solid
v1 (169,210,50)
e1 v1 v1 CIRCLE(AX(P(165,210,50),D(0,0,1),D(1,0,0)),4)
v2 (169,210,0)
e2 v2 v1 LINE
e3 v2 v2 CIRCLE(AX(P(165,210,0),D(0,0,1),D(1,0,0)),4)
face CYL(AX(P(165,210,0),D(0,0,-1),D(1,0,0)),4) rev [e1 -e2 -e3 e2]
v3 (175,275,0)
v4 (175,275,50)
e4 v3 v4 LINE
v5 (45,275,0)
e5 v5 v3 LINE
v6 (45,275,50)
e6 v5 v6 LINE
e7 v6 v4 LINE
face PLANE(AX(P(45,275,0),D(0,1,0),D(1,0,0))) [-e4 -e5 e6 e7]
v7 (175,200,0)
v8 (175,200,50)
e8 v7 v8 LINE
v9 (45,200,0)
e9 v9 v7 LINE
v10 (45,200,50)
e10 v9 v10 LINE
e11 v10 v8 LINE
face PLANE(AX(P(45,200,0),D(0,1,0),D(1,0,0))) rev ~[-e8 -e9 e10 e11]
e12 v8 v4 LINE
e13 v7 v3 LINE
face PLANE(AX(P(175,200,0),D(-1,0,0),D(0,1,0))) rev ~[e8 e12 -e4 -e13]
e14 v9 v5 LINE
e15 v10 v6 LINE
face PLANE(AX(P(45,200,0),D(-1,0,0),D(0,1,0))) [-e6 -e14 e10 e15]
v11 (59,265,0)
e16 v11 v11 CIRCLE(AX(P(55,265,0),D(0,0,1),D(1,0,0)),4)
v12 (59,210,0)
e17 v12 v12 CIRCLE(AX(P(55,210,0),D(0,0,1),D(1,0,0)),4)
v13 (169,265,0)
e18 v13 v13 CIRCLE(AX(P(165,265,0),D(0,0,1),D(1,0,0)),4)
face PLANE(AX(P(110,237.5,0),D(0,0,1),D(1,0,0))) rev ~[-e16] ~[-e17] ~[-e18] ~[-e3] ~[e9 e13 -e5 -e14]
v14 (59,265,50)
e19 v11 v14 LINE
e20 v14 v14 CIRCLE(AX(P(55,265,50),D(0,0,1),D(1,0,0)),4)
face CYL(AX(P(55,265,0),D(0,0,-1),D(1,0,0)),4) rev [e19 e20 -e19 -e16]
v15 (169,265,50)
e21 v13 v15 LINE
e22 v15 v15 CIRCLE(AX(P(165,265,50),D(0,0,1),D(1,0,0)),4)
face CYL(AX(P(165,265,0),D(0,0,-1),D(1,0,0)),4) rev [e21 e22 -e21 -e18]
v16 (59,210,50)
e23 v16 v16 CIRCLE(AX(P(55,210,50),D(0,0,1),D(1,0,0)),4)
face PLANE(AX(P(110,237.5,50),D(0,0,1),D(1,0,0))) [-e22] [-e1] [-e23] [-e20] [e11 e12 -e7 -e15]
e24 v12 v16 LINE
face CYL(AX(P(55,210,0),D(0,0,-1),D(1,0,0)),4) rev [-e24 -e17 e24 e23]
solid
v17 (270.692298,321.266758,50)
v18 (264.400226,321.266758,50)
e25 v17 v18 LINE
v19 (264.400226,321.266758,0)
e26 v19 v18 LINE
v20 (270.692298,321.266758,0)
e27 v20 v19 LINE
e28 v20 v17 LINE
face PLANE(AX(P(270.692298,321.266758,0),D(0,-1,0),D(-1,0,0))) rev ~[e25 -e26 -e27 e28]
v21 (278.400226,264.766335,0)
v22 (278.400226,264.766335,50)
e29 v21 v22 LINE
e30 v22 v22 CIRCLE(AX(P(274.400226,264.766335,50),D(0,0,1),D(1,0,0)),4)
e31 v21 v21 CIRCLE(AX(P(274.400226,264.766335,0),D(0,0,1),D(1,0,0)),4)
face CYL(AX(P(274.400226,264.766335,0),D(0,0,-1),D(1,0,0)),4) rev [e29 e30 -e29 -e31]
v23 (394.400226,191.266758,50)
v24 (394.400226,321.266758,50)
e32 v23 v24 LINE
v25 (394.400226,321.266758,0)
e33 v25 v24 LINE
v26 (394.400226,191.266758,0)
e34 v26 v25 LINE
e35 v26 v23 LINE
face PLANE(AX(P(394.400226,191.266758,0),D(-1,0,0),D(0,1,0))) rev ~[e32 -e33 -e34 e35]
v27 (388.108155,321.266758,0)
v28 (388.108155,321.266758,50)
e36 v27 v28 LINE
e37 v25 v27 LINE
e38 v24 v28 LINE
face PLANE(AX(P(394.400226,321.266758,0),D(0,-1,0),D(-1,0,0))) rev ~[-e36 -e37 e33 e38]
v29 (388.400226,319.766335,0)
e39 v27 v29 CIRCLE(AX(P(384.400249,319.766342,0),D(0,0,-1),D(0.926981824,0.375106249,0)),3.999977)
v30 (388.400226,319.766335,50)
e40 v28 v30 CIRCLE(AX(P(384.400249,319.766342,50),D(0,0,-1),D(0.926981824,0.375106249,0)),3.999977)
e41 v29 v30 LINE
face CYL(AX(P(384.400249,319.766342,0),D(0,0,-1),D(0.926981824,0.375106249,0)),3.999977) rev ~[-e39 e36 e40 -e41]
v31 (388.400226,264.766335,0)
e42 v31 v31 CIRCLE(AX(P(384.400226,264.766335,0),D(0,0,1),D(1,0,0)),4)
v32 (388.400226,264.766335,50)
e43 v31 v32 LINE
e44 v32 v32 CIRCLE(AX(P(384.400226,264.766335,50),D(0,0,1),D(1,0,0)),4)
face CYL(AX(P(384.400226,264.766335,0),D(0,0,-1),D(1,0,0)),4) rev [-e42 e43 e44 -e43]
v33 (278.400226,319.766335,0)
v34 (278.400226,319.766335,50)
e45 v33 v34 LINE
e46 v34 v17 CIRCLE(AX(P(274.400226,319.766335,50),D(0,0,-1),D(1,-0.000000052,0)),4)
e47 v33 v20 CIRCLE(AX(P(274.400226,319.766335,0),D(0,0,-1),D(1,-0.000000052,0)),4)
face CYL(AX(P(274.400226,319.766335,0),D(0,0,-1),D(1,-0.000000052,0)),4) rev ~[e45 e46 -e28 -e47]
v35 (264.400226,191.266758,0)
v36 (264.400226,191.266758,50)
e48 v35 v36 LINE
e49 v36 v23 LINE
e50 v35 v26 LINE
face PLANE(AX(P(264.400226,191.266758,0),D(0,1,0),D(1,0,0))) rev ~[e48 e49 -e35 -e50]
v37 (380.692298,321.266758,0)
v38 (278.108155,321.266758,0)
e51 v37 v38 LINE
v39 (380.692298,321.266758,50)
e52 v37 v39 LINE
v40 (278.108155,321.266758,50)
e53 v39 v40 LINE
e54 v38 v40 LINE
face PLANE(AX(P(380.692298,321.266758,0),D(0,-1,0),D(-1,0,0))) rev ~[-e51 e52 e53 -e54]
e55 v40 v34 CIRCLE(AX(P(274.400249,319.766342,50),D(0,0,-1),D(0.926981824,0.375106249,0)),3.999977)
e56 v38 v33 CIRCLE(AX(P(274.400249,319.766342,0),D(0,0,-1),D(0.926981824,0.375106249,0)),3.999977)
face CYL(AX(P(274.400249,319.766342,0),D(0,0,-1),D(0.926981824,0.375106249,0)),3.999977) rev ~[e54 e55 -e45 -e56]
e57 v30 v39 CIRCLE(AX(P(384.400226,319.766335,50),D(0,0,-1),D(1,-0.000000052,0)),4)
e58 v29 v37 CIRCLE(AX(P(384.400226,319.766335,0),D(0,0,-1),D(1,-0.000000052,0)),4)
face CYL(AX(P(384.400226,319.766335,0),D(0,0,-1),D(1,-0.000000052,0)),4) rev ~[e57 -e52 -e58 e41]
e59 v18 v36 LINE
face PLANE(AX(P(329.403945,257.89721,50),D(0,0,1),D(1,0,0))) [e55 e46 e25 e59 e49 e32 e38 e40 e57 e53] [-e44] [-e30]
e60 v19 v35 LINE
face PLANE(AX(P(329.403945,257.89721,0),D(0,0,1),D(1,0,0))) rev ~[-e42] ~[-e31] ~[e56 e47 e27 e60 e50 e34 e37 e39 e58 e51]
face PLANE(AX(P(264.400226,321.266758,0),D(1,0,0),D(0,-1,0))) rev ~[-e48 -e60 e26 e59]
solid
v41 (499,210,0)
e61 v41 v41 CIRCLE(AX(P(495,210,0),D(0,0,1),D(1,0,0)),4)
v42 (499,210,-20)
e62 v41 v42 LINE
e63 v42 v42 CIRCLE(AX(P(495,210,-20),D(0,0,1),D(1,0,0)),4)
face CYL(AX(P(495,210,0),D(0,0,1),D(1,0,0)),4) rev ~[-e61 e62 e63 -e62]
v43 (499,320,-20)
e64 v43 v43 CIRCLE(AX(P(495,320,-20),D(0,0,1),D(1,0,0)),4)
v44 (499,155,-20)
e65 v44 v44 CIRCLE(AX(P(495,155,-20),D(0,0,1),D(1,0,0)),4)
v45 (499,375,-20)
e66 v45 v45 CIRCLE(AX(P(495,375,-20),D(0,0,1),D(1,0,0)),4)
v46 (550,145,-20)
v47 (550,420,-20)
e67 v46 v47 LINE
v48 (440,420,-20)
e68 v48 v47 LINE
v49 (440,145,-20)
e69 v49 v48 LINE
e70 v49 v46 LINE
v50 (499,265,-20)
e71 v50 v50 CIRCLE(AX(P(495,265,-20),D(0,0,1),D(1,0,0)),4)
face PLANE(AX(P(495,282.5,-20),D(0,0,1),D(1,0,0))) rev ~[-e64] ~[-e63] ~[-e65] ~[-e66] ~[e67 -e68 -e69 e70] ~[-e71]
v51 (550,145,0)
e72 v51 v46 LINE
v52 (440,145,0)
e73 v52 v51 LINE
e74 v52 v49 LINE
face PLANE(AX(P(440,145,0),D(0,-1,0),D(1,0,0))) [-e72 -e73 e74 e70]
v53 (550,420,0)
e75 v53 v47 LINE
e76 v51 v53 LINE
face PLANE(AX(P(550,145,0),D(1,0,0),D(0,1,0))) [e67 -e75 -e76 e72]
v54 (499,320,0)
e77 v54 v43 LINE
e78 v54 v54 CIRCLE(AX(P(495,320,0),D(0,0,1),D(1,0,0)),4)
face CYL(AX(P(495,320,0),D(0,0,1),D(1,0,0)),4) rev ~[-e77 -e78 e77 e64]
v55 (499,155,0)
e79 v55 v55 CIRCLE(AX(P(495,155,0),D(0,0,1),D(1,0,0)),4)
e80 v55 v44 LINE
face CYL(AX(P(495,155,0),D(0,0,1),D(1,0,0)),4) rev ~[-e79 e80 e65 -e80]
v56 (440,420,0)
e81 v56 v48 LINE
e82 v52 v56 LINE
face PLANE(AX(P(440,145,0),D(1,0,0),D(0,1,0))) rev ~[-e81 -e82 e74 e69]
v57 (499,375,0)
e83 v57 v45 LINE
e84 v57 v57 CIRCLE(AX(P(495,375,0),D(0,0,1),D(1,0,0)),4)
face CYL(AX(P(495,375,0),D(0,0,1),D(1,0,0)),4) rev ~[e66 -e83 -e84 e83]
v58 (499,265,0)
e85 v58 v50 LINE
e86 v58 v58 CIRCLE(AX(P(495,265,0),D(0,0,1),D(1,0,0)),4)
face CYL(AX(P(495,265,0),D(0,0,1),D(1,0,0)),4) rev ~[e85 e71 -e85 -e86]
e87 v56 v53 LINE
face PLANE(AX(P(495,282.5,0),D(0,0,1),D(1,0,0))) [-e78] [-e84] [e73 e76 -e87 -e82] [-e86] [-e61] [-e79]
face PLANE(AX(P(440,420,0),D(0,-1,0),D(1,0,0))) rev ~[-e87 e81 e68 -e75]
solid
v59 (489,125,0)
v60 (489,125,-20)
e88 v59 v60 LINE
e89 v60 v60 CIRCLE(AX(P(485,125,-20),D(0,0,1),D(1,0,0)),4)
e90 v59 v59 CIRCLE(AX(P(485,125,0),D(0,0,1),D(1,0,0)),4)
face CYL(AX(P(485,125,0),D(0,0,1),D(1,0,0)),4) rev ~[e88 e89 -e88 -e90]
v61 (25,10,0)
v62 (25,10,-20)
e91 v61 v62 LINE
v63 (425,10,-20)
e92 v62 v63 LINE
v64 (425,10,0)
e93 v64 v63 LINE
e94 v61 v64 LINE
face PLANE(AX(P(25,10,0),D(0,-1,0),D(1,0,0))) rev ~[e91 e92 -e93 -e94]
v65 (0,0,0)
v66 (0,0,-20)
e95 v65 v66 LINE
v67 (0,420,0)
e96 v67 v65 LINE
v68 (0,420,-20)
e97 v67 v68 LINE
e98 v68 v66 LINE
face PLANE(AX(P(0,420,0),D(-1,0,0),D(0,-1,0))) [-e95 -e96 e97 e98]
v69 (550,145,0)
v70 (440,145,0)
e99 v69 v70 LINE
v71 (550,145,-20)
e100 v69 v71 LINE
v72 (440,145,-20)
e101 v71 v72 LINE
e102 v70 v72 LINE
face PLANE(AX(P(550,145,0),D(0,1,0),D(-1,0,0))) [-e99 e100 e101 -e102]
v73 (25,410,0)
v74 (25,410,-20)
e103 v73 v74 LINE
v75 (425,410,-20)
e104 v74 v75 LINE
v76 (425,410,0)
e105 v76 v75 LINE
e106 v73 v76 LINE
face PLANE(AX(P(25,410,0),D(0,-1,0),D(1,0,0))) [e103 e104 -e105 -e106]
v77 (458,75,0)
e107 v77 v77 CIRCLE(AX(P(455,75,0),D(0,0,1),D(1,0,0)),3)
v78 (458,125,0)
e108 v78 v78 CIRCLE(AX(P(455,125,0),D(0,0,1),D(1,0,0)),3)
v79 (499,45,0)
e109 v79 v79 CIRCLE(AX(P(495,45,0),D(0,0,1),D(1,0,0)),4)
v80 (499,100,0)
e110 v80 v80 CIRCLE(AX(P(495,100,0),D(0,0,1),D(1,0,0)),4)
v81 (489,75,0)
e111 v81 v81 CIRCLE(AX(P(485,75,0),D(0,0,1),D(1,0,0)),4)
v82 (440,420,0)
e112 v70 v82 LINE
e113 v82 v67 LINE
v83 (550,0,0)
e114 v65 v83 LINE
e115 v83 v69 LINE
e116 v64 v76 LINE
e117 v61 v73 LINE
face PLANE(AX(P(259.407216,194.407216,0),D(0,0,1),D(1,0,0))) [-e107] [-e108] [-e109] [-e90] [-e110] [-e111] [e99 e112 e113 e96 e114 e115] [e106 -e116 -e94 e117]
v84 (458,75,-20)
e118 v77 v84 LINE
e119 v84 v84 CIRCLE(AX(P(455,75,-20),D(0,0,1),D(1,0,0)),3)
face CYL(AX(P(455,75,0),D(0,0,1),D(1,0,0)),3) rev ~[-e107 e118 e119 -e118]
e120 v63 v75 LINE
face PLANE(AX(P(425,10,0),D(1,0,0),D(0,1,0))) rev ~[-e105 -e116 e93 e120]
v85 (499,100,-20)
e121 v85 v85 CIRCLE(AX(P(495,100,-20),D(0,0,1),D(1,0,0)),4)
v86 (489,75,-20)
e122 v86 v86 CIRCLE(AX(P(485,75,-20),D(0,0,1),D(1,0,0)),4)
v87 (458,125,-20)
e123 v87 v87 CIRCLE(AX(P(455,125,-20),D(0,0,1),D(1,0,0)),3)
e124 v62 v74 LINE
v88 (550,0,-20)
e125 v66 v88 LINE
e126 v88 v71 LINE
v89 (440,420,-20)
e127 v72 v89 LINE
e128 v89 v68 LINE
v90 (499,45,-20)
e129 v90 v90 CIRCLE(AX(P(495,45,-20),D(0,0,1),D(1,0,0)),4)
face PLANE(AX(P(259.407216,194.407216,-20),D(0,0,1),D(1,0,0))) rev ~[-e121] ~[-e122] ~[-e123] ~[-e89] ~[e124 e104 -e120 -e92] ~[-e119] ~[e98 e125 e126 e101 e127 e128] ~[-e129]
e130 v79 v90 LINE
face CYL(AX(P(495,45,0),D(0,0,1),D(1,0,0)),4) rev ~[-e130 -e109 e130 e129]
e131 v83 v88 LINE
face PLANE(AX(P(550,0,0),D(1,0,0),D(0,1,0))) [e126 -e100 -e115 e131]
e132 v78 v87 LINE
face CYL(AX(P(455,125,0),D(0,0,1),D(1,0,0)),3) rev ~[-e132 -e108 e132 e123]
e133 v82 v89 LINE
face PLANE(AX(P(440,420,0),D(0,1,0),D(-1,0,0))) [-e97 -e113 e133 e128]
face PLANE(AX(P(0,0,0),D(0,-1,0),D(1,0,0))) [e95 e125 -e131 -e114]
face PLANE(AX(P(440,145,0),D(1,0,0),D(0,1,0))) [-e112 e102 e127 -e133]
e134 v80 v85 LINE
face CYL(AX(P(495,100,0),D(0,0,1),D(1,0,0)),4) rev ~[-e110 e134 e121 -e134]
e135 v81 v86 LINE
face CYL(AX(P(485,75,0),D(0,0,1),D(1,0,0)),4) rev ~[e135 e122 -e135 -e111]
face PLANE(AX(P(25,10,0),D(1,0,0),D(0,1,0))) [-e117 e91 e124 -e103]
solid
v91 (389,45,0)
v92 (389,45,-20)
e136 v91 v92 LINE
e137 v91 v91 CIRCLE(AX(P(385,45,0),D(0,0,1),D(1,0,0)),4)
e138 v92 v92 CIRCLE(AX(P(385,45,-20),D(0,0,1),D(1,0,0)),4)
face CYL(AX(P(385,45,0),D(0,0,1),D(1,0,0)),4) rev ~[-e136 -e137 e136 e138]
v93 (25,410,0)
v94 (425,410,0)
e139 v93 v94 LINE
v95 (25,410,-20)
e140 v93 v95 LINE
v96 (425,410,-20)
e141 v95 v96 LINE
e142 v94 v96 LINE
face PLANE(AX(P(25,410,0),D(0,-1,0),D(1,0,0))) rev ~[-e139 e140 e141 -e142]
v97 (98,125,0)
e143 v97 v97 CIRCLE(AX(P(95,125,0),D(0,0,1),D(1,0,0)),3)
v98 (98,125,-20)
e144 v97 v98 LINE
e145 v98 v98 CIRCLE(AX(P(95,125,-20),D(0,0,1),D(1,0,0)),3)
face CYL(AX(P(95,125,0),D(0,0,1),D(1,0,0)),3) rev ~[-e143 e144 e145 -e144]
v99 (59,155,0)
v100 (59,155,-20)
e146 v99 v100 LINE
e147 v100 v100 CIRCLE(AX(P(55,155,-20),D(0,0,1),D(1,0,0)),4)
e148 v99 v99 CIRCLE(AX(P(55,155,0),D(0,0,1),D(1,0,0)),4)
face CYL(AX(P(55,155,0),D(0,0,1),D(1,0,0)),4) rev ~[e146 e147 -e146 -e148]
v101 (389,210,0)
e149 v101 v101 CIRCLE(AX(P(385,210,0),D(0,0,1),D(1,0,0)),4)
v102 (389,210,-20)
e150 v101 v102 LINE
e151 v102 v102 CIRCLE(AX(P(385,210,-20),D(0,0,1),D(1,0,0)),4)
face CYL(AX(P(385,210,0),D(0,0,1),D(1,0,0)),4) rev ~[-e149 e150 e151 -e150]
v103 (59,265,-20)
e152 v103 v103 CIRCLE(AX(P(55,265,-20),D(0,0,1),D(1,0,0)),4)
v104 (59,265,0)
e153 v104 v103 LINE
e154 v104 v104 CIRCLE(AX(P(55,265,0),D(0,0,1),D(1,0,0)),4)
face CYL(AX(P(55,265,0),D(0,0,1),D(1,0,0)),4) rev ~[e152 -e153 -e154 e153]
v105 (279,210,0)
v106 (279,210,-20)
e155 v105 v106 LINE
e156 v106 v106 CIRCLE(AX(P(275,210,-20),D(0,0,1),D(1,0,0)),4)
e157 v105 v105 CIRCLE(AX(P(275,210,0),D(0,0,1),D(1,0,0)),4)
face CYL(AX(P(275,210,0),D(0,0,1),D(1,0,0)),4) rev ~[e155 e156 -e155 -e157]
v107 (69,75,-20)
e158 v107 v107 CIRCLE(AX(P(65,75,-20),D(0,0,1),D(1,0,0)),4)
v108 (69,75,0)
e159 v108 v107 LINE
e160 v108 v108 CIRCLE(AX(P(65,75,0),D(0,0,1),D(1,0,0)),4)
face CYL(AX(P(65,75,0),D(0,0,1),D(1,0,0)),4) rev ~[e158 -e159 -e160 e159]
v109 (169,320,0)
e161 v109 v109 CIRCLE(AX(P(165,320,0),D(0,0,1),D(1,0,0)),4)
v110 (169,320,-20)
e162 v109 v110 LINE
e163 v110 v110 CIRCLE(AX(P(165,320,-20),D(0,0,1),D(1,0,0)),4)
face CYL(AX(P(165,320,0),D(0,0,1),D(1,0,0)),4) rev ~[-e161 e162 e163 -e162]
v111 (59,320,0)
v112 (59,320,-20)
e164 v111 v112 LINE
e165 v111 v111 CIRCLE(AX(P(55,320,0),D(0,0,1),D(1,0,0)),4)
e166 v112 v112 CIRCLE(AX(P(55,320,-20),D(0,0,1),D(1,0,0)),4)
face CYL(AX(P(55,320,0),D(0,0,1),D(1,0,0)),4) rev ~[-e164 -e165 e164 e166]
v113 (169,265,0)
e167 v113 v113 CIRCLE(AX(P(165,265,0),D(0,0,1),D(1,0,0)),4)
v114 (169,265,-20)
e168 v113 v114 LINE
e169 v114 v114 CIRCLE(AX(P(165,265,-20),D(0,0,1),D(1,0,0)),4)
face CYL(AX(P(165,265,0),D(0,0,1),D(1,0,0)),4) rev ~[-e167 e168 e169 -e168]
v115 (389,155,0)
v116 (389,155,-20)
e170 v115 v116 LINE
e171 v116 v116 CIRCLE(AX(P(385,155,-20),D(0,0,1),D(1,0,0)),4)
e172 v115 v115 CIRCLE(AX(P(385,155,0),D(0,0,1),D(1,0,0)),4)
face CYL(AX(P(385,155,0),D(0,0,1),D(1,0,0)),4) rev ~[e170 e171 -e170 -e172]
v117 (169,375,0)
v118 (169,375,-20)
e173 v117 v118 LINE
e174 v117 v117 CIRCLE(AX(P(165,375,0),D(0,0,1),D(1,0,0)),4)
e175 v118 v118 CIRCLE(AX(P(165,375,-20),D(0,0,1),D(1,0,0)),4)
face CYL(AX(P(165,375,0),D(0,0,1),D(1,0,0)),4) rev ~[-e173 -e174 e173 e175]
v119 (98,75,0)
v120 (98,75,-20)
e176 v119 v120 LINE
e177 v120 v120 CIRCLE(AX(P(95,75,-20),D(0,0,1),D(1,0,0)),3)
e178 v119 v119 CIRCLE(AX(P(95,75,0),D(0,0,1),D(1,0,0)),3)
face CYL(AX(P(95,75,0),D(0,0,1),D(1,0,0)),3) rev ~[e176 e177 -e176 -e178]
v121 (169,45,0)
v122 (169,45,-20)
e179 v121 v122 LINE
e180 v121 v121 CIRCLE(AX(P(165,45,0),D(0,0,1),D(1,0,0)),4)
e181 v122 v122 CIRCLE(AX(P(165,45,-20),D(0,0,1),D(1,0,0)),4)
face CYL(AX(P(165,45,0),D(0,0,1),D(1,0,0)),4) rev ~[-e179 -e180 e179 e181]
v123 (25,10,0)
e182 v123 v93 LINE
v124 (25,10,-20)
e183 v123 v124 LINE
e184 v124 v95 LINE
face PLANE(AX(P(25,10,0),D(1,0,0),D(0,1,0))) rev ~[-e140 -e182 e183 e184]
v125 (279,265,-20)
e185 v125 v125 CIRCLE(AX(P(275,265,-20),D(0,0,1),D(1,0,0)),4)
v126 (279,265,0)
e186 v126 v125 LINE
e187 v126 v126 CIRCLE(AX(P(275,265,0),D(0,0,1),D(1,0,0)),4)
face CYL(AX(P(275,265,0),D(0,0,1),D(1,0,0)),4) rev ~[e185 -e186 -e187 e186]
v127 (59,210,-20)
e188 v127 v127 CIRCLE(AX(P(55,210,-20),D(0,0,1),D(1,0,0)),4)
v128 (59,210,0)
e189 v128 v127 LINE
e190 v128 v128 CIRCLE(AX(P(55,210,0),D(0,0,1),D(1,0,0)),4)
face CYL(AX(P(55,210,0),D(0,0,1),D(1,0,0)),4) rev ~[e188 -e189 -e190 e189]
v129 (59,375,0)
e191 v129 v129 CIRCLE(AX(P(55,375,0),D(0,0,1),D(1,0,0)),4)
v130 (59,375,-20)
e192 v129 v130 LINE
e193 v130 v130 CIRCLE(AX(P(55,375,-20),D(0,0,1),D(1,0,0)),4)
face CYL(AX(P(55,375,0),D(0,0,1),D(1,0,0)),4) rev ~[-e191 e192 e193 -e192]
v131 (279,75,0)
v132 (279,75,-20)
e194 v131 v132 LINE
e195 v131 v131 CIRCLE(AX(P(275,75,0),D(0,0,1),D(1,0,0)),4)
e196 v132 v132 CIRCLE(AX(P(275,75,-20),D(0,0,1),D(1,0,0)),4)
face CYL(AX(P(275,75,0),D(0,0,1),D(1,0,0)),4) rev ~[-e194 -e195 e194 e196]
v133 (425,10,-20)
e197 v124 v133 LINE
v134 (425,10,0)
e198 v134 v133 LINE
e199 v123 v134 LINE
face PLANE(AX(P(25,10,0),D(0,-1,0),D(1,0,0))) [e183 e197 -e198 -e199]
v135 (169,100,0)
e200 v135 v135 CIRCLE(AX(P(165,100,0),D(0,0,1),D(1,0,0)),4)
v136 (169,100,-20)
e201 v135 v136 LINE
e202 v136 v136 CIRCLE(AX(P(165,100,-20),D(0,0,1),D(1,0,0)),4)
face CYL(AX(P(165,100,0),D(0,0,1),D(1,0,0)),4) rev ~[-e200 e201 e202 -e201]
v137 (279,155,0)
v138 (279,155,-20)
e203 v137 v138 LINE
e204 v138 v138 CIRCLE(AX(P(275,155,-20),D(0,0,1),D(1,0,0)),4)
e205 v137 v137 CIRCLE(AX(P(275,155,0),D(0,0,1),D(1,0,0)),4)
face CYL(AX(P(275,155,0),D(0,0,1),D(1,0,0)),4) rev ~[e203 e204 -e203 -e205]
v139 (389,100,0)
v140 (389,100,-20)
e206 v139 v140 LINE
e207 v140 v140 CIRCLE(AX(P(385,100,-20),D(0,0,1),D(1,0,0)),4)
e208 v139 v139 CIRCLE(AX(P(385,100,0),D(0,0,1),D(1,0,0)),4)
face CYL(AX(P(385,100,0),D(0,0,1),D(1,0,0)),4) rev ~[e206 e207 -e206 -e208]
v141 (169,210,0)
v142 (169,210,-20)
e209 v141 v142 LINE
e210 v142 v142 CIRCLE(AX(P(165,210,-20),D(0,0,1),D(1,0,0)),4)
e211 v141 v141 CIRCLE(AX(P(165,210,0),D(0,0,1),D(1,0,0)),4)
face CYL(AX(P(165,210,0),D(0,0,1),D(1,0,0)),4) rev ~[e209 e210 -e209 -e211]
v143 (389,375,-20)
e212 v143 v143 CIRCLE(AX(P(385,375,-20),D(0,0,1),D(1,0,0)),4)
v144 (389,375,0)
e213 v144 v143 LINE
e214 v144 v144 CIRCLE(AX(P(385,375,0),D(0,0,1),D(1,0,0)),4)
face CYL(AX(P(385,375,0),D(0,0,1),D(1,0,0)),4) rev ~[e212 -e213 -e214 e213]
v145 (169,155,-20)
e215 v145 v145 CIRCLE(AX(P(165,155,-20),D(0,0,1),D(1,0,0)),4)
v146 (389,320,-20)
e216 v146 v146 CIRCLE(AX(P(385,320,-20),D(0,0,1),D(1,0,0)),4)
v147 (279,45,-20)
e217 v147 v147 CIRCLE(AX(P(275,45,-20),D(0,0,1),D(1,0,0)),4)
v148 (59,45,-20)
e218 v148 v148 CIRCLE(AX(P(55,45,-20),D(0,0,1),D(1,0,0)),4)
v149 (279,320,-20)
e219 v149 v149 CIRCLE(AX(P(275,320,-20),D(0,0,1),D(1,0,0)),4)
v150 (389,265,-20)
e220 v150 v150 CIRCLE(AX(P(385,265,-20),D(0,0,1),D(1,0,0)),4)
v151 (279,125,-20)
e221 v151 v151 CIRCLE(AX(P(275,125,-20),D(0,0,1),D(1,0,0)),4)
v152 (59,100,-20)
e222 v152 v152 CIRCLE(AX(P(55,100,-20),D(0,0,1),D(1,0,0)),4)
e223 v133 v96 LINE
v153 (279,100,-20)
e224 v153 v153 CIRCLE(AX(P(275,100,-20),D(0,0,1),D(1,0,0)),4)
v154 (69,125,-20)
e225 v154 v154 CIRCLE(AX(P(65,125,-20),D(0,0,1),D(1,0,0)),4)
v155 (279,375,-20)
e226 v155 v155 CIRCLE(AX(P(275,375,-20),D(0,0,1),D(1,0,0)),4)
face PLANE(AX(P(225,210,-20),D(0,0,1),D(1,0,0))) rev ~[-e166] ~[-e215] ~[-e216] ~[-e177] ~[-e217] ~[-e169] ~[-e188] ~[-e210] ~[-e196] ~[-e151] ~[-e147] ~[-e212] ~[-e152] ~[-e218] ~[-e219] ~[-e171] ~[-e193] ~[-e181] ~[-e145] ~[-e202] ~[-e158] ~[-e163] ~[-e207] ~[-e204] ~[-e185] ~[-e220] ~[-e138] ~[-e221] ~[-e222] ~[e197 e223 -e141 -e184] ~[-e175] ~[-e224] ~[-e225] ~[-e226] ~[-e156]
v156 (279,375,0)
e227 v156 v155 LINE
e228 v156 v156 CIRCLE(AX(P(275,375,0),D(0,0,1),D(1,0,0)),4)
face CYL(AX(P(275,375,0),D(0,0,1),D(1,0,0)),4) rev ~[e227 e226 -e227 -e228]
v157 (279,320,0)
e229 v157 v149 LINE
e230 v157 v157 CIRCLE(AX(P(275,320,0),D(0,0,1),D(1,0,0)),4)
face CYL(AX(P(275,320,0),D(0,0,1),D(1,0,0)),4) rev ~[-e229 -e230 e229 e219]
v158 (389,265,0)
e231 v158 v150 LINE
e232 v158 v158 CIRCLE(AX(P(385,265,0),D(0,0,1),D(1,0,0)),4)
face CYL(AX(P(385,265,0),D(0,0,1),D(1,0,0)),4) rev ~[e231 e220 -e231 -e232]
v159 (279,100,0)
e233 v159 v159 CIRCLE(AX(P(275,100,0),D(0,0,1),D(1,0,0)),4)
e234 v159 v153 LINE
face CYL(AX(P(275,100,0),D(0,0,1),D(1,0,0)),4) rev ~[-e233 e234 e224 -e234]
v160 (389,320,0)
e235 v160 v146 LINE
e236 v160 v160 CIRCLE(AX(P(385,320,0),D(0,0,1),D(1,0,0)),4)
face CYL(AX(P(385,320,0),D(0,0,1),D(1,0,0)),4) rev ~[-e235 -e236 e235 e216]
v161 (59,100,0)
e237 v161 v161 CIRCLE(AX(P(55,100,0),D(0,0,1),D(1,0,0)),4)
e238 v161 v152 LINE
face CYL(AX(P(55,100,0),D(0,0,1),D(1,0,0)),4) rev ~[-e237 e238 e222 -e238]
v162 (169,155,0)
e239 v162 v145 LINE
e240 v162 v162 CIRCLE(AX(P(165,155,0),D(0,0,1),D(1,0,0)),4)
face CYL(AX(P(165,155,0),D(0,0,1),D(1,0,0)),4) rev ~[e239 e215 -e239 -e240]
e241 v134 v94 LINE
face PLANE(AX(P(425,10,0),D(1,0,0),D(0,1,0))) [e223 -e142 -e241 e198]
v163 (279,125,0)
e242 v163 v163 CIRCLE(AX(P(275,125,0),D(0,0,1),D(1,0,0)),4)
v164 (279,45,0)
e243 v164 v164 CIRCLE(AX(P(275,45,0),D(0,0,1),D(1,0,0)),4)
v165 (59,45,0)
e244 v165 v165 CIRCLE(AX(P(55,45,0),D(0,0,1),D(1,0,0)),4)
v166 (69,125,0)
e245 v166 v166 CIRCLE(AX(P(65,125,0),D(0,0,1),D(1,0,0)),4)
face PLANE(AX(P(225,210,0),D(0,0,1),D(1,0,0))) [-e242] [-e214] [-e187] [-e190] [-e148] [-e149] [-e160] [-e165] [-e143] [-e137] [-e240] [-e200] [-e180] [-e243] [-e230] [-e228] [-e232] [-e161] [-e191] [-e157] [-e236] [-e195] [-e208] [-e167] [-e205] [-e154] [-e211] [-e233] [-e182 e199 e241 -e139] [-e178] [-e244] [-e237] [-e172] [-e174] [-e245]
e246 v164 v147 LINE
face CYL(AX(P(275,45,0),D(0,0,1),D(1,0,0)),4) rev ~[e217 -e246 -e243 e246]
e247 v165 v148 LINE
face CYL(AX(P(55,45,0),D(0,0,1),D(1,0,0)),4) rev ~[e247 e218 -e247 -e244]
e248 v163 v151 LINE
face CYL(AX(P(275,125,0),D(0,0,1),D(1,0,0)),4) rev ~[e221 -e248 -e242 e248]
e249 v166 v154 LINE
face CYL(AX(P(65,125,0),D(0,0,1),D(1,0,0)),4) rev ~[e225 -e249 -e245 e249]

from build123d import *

# Parameters (mm, degrees)
F0_R     = 4
F0_R_2   = 3
F0_W     = 400
F0_H     = 400
F1_DEPTH = 20
F0_W_2   = 110
F0_H_2   = 275
F2_DEPTH = 20
F3_W     = 130
F3_H     = 75
F3_R     = 4
F4_DEPTH = 50


with BuildPart() as f1:
    # F0 (on Top) → F1 (new body)
    with BuildSketch(Plane.XY):
        Polygon((0, 420), (0, 0), (550, 0), (550, 145), (440, 145), (440, 420), align=None)
        with Locations((495, 45)):
            Circle(F0_R, mode=Mode.SUBTRACT)
        with Locations((455, 75)):
            Circle(F0_R_2, mode=Mode.SUBTRACT)
        with Locations((485, 75)):
            Circle(F0_R, mode=Mode.SUBTRACT)
        with Locations((495, 100)):
            Circle(F0_R, mode=Mode.SUBTRACT)
        with Locations((455, 125)):
            Circle(F0_R_2, mode=Mode.SUBTRACT)
        with Locations((485, 125)):
            Circle(F0_R, mode=Mode.SUBTRACT)
        with Locations((225, 210)):
            Rectangle(F0_W, F0_H, mode=Mode.SUBTRACT)
    extrude(amount=-F1_DEPTH)


with BuildPart() as f2:
    # F0 (on Top) → F2 (new body)
    with BuildSketch(Plane.XY):
        with Locations((225, 210)):
            Rectangle(F0_W, F0_H)
        with Locations((55, 45)):
            Circle(F0_R, mode=Mode.SUBTRACT)
        with Locations((65, 75)):
            Circle(F0_R, mode=Mode.SUBTRACT)
        with Locations((55, 100)):
            Circle(F0_R, mode=Mode.SUBTRACT)
        with Locations((95, 75)):
            Circle(F0_R_2, mode=Mode.SUBTRACT)
        with Locations((165, 45)):
            Circle(F0_R, mode=Mode.SUBTRACT)
        with Locations((165, 100)):
            Circle(F0_R, mode=Mode.SUBTRACT)
        with Locations((65, 125)):
            Circle(F0_R, mode=Mode.SUBTRACT)
        with Locations((55, 155)):
            Circle(F0_R, mode=Mode.SUBTRACT)
        with Locations((95, 125)):
            Circle(F0_R_2, mode=Mode.SUBTRACT)
        with Locations((165, 155)):
            Circle(F0_R, mode=Mode.SUBTRACT)
        with Locations((275, 45)):
            Circle(F0_R, mode=Mode.SUBTRACT)
        with Locations((385, 45)):
            Circle(F0_R, mode=Mode.SUBTRACT)
        with Locations((275, 75)):
            Circle(F0_R, mode=Mode.SUBTRACT)
        with Locations((275, 100)):
            Circle(F0_R, mode=Mode.SUBTRACT)
        with Locations((385, 100)):
            Circle(F0_R, mode=Mode.SUBTRACT)
        with Locations((275, 125)):
            Circle(F0_R, mode=Mode.SUBTRACT)
        with Locations((275, 155)):
            Circle(F0_R, mode=Mode.SUBTRACT)
        with Locations((385, 155)):
            Circle(F0_R, mode=Mode.SUBTRACT)
        with Locations((55, 210)):
            Circle(F0_R, mode=Mode.SUBTRACT)
        with Locations((55, 265)):
            Circle(F0_R, mode=Mode.SUBTRACT)
        with Locations((165, 210)):
            Circle(F0_R, mode=Mode.SUBTRACT)
        with Locations((165, 265)):
            Circle(F0_R, mode=Mode.SUBTRACT)
        with Locations((55, 320)):
            Circle(F0_R, mode=Mode.SUBTRACT)
        with Locations((55, 375)):
            Circle(F0_R, mode=Mode.SUBTRACT)
        with Locations((165, 320)):
            Circle(F0_R, mode=Mode.SUBTRACT)
        with Locations((165, 375)):
            Circle(F0_R, mode=Mode.SUBTRACT)
        with Locations((275, 210)):
            Circle(F0_R, mode=Mode.SUBTRACT)
        with Locations((385, 210)):
            Circle(F0_R, mode=Mode.SUBTRACT)
        with Locations((275, 265)):
            Circle(F0_R, mode=Mode.SUBTRACT)
        with Locations((385, 265)):
            Circle(F0_R, mode=Mode.SUBTRACT)
        with Locations((275, 320)):
            Circle(F0_R, mode=Mode.SUBTRACT)
        with Locations((385, 320)):
            Circle(F0_R, mode=Mode.SUBTRACT)
        with Locations((275, 375)):
            Circle(F0_R, mode=Mode.SUBTRACT)
        with Locations((385, 375)):
            Circle(F0_R, mode=Mode.SUBTRACT)
        with Locations((495, 282.5)):
            Rectangle(F0_W_2, F0_H_2)
        with Locations((495, 155)):
            Circle(F0_R, mode=Mode.SUBTRACT)
        with Locations((495, 210)):
            Circle(F0_R, mode=Mode.SUBTRACT)
        with Locations((495, 265)):
            Circle(F0_R, mode=Mode.SUBTRACT)
        with Locations((495, 320)):
            Circle(F0_R, mode=Mode.SUBTRACT)
        with Locations((495, 375)):
            Circle(F0_R, mode=Mode.SUBTRACT)
    extrude(amount=-F2_DEPTH)


with BuildPart() as f4:
    # F3 (on Top) → F4 (new body)
    with BuildSketch(Plane.XY):
        with Locations((110, 237.5)):
            Rectangle(F3_W, F3_H)
        with Locations((55, 210)):
            Circle(F3_R, mode=Mode.SUBTRACT)
        with Locations((165, 210)):
            Circle(F3_R, mode=Mode.SUBTRACT)
        with Locations((55, 265)):
            Circle(F3_R, mode=Mode.SUBTRACT)
        with Locations((165, 265)):
            Circle(F3_R, mode=Mode.SUBTRACT)
        with BuildLine():
            Line((270.692298, 321.266758), (264.400226, 321.266758))
            Line((264.400226, 321.266758), (264.400226, 191.266758))
            Line((264.400226, 191.266758), (394.400226, 191.266758))
            Line((394.400226, 191.266758), (394.400226, 321.266758))
            Line((394.400226, 321.266758), (388.108155, 321.266758))
            ThreePointArc((388.108155, 321.266758), (388.32653, 320.530628), (388.400226, 319.766335))
            ThreePointArc((388.400226, 319.766335), (383.635934, 315.840032), (380.692298, 321.266758))
            Line((380.692298, 321.266758), (278.108155, 321.266758))
            ThreePointArc((278.108155, 321.266758), (278.32653, 320.530628), (278.400226, 319.766335))
            ThreePointArc((278.400226, 319.766335), (273.635934, 315.840032), (270.692298, 321.266758))
        make_face()
        with Locations((274.400226, 264.766335)):
            Circle(F3_R, mode=Mode.SUBTRACT)
        with Locations((384.400226, 264.766335)):
            Circle(F3_R, mode=Mode.SUBTRACT)
    extrude(amount=F4_DEPTH)


solid = Compound([f1.part, f2.part, f4.part])
